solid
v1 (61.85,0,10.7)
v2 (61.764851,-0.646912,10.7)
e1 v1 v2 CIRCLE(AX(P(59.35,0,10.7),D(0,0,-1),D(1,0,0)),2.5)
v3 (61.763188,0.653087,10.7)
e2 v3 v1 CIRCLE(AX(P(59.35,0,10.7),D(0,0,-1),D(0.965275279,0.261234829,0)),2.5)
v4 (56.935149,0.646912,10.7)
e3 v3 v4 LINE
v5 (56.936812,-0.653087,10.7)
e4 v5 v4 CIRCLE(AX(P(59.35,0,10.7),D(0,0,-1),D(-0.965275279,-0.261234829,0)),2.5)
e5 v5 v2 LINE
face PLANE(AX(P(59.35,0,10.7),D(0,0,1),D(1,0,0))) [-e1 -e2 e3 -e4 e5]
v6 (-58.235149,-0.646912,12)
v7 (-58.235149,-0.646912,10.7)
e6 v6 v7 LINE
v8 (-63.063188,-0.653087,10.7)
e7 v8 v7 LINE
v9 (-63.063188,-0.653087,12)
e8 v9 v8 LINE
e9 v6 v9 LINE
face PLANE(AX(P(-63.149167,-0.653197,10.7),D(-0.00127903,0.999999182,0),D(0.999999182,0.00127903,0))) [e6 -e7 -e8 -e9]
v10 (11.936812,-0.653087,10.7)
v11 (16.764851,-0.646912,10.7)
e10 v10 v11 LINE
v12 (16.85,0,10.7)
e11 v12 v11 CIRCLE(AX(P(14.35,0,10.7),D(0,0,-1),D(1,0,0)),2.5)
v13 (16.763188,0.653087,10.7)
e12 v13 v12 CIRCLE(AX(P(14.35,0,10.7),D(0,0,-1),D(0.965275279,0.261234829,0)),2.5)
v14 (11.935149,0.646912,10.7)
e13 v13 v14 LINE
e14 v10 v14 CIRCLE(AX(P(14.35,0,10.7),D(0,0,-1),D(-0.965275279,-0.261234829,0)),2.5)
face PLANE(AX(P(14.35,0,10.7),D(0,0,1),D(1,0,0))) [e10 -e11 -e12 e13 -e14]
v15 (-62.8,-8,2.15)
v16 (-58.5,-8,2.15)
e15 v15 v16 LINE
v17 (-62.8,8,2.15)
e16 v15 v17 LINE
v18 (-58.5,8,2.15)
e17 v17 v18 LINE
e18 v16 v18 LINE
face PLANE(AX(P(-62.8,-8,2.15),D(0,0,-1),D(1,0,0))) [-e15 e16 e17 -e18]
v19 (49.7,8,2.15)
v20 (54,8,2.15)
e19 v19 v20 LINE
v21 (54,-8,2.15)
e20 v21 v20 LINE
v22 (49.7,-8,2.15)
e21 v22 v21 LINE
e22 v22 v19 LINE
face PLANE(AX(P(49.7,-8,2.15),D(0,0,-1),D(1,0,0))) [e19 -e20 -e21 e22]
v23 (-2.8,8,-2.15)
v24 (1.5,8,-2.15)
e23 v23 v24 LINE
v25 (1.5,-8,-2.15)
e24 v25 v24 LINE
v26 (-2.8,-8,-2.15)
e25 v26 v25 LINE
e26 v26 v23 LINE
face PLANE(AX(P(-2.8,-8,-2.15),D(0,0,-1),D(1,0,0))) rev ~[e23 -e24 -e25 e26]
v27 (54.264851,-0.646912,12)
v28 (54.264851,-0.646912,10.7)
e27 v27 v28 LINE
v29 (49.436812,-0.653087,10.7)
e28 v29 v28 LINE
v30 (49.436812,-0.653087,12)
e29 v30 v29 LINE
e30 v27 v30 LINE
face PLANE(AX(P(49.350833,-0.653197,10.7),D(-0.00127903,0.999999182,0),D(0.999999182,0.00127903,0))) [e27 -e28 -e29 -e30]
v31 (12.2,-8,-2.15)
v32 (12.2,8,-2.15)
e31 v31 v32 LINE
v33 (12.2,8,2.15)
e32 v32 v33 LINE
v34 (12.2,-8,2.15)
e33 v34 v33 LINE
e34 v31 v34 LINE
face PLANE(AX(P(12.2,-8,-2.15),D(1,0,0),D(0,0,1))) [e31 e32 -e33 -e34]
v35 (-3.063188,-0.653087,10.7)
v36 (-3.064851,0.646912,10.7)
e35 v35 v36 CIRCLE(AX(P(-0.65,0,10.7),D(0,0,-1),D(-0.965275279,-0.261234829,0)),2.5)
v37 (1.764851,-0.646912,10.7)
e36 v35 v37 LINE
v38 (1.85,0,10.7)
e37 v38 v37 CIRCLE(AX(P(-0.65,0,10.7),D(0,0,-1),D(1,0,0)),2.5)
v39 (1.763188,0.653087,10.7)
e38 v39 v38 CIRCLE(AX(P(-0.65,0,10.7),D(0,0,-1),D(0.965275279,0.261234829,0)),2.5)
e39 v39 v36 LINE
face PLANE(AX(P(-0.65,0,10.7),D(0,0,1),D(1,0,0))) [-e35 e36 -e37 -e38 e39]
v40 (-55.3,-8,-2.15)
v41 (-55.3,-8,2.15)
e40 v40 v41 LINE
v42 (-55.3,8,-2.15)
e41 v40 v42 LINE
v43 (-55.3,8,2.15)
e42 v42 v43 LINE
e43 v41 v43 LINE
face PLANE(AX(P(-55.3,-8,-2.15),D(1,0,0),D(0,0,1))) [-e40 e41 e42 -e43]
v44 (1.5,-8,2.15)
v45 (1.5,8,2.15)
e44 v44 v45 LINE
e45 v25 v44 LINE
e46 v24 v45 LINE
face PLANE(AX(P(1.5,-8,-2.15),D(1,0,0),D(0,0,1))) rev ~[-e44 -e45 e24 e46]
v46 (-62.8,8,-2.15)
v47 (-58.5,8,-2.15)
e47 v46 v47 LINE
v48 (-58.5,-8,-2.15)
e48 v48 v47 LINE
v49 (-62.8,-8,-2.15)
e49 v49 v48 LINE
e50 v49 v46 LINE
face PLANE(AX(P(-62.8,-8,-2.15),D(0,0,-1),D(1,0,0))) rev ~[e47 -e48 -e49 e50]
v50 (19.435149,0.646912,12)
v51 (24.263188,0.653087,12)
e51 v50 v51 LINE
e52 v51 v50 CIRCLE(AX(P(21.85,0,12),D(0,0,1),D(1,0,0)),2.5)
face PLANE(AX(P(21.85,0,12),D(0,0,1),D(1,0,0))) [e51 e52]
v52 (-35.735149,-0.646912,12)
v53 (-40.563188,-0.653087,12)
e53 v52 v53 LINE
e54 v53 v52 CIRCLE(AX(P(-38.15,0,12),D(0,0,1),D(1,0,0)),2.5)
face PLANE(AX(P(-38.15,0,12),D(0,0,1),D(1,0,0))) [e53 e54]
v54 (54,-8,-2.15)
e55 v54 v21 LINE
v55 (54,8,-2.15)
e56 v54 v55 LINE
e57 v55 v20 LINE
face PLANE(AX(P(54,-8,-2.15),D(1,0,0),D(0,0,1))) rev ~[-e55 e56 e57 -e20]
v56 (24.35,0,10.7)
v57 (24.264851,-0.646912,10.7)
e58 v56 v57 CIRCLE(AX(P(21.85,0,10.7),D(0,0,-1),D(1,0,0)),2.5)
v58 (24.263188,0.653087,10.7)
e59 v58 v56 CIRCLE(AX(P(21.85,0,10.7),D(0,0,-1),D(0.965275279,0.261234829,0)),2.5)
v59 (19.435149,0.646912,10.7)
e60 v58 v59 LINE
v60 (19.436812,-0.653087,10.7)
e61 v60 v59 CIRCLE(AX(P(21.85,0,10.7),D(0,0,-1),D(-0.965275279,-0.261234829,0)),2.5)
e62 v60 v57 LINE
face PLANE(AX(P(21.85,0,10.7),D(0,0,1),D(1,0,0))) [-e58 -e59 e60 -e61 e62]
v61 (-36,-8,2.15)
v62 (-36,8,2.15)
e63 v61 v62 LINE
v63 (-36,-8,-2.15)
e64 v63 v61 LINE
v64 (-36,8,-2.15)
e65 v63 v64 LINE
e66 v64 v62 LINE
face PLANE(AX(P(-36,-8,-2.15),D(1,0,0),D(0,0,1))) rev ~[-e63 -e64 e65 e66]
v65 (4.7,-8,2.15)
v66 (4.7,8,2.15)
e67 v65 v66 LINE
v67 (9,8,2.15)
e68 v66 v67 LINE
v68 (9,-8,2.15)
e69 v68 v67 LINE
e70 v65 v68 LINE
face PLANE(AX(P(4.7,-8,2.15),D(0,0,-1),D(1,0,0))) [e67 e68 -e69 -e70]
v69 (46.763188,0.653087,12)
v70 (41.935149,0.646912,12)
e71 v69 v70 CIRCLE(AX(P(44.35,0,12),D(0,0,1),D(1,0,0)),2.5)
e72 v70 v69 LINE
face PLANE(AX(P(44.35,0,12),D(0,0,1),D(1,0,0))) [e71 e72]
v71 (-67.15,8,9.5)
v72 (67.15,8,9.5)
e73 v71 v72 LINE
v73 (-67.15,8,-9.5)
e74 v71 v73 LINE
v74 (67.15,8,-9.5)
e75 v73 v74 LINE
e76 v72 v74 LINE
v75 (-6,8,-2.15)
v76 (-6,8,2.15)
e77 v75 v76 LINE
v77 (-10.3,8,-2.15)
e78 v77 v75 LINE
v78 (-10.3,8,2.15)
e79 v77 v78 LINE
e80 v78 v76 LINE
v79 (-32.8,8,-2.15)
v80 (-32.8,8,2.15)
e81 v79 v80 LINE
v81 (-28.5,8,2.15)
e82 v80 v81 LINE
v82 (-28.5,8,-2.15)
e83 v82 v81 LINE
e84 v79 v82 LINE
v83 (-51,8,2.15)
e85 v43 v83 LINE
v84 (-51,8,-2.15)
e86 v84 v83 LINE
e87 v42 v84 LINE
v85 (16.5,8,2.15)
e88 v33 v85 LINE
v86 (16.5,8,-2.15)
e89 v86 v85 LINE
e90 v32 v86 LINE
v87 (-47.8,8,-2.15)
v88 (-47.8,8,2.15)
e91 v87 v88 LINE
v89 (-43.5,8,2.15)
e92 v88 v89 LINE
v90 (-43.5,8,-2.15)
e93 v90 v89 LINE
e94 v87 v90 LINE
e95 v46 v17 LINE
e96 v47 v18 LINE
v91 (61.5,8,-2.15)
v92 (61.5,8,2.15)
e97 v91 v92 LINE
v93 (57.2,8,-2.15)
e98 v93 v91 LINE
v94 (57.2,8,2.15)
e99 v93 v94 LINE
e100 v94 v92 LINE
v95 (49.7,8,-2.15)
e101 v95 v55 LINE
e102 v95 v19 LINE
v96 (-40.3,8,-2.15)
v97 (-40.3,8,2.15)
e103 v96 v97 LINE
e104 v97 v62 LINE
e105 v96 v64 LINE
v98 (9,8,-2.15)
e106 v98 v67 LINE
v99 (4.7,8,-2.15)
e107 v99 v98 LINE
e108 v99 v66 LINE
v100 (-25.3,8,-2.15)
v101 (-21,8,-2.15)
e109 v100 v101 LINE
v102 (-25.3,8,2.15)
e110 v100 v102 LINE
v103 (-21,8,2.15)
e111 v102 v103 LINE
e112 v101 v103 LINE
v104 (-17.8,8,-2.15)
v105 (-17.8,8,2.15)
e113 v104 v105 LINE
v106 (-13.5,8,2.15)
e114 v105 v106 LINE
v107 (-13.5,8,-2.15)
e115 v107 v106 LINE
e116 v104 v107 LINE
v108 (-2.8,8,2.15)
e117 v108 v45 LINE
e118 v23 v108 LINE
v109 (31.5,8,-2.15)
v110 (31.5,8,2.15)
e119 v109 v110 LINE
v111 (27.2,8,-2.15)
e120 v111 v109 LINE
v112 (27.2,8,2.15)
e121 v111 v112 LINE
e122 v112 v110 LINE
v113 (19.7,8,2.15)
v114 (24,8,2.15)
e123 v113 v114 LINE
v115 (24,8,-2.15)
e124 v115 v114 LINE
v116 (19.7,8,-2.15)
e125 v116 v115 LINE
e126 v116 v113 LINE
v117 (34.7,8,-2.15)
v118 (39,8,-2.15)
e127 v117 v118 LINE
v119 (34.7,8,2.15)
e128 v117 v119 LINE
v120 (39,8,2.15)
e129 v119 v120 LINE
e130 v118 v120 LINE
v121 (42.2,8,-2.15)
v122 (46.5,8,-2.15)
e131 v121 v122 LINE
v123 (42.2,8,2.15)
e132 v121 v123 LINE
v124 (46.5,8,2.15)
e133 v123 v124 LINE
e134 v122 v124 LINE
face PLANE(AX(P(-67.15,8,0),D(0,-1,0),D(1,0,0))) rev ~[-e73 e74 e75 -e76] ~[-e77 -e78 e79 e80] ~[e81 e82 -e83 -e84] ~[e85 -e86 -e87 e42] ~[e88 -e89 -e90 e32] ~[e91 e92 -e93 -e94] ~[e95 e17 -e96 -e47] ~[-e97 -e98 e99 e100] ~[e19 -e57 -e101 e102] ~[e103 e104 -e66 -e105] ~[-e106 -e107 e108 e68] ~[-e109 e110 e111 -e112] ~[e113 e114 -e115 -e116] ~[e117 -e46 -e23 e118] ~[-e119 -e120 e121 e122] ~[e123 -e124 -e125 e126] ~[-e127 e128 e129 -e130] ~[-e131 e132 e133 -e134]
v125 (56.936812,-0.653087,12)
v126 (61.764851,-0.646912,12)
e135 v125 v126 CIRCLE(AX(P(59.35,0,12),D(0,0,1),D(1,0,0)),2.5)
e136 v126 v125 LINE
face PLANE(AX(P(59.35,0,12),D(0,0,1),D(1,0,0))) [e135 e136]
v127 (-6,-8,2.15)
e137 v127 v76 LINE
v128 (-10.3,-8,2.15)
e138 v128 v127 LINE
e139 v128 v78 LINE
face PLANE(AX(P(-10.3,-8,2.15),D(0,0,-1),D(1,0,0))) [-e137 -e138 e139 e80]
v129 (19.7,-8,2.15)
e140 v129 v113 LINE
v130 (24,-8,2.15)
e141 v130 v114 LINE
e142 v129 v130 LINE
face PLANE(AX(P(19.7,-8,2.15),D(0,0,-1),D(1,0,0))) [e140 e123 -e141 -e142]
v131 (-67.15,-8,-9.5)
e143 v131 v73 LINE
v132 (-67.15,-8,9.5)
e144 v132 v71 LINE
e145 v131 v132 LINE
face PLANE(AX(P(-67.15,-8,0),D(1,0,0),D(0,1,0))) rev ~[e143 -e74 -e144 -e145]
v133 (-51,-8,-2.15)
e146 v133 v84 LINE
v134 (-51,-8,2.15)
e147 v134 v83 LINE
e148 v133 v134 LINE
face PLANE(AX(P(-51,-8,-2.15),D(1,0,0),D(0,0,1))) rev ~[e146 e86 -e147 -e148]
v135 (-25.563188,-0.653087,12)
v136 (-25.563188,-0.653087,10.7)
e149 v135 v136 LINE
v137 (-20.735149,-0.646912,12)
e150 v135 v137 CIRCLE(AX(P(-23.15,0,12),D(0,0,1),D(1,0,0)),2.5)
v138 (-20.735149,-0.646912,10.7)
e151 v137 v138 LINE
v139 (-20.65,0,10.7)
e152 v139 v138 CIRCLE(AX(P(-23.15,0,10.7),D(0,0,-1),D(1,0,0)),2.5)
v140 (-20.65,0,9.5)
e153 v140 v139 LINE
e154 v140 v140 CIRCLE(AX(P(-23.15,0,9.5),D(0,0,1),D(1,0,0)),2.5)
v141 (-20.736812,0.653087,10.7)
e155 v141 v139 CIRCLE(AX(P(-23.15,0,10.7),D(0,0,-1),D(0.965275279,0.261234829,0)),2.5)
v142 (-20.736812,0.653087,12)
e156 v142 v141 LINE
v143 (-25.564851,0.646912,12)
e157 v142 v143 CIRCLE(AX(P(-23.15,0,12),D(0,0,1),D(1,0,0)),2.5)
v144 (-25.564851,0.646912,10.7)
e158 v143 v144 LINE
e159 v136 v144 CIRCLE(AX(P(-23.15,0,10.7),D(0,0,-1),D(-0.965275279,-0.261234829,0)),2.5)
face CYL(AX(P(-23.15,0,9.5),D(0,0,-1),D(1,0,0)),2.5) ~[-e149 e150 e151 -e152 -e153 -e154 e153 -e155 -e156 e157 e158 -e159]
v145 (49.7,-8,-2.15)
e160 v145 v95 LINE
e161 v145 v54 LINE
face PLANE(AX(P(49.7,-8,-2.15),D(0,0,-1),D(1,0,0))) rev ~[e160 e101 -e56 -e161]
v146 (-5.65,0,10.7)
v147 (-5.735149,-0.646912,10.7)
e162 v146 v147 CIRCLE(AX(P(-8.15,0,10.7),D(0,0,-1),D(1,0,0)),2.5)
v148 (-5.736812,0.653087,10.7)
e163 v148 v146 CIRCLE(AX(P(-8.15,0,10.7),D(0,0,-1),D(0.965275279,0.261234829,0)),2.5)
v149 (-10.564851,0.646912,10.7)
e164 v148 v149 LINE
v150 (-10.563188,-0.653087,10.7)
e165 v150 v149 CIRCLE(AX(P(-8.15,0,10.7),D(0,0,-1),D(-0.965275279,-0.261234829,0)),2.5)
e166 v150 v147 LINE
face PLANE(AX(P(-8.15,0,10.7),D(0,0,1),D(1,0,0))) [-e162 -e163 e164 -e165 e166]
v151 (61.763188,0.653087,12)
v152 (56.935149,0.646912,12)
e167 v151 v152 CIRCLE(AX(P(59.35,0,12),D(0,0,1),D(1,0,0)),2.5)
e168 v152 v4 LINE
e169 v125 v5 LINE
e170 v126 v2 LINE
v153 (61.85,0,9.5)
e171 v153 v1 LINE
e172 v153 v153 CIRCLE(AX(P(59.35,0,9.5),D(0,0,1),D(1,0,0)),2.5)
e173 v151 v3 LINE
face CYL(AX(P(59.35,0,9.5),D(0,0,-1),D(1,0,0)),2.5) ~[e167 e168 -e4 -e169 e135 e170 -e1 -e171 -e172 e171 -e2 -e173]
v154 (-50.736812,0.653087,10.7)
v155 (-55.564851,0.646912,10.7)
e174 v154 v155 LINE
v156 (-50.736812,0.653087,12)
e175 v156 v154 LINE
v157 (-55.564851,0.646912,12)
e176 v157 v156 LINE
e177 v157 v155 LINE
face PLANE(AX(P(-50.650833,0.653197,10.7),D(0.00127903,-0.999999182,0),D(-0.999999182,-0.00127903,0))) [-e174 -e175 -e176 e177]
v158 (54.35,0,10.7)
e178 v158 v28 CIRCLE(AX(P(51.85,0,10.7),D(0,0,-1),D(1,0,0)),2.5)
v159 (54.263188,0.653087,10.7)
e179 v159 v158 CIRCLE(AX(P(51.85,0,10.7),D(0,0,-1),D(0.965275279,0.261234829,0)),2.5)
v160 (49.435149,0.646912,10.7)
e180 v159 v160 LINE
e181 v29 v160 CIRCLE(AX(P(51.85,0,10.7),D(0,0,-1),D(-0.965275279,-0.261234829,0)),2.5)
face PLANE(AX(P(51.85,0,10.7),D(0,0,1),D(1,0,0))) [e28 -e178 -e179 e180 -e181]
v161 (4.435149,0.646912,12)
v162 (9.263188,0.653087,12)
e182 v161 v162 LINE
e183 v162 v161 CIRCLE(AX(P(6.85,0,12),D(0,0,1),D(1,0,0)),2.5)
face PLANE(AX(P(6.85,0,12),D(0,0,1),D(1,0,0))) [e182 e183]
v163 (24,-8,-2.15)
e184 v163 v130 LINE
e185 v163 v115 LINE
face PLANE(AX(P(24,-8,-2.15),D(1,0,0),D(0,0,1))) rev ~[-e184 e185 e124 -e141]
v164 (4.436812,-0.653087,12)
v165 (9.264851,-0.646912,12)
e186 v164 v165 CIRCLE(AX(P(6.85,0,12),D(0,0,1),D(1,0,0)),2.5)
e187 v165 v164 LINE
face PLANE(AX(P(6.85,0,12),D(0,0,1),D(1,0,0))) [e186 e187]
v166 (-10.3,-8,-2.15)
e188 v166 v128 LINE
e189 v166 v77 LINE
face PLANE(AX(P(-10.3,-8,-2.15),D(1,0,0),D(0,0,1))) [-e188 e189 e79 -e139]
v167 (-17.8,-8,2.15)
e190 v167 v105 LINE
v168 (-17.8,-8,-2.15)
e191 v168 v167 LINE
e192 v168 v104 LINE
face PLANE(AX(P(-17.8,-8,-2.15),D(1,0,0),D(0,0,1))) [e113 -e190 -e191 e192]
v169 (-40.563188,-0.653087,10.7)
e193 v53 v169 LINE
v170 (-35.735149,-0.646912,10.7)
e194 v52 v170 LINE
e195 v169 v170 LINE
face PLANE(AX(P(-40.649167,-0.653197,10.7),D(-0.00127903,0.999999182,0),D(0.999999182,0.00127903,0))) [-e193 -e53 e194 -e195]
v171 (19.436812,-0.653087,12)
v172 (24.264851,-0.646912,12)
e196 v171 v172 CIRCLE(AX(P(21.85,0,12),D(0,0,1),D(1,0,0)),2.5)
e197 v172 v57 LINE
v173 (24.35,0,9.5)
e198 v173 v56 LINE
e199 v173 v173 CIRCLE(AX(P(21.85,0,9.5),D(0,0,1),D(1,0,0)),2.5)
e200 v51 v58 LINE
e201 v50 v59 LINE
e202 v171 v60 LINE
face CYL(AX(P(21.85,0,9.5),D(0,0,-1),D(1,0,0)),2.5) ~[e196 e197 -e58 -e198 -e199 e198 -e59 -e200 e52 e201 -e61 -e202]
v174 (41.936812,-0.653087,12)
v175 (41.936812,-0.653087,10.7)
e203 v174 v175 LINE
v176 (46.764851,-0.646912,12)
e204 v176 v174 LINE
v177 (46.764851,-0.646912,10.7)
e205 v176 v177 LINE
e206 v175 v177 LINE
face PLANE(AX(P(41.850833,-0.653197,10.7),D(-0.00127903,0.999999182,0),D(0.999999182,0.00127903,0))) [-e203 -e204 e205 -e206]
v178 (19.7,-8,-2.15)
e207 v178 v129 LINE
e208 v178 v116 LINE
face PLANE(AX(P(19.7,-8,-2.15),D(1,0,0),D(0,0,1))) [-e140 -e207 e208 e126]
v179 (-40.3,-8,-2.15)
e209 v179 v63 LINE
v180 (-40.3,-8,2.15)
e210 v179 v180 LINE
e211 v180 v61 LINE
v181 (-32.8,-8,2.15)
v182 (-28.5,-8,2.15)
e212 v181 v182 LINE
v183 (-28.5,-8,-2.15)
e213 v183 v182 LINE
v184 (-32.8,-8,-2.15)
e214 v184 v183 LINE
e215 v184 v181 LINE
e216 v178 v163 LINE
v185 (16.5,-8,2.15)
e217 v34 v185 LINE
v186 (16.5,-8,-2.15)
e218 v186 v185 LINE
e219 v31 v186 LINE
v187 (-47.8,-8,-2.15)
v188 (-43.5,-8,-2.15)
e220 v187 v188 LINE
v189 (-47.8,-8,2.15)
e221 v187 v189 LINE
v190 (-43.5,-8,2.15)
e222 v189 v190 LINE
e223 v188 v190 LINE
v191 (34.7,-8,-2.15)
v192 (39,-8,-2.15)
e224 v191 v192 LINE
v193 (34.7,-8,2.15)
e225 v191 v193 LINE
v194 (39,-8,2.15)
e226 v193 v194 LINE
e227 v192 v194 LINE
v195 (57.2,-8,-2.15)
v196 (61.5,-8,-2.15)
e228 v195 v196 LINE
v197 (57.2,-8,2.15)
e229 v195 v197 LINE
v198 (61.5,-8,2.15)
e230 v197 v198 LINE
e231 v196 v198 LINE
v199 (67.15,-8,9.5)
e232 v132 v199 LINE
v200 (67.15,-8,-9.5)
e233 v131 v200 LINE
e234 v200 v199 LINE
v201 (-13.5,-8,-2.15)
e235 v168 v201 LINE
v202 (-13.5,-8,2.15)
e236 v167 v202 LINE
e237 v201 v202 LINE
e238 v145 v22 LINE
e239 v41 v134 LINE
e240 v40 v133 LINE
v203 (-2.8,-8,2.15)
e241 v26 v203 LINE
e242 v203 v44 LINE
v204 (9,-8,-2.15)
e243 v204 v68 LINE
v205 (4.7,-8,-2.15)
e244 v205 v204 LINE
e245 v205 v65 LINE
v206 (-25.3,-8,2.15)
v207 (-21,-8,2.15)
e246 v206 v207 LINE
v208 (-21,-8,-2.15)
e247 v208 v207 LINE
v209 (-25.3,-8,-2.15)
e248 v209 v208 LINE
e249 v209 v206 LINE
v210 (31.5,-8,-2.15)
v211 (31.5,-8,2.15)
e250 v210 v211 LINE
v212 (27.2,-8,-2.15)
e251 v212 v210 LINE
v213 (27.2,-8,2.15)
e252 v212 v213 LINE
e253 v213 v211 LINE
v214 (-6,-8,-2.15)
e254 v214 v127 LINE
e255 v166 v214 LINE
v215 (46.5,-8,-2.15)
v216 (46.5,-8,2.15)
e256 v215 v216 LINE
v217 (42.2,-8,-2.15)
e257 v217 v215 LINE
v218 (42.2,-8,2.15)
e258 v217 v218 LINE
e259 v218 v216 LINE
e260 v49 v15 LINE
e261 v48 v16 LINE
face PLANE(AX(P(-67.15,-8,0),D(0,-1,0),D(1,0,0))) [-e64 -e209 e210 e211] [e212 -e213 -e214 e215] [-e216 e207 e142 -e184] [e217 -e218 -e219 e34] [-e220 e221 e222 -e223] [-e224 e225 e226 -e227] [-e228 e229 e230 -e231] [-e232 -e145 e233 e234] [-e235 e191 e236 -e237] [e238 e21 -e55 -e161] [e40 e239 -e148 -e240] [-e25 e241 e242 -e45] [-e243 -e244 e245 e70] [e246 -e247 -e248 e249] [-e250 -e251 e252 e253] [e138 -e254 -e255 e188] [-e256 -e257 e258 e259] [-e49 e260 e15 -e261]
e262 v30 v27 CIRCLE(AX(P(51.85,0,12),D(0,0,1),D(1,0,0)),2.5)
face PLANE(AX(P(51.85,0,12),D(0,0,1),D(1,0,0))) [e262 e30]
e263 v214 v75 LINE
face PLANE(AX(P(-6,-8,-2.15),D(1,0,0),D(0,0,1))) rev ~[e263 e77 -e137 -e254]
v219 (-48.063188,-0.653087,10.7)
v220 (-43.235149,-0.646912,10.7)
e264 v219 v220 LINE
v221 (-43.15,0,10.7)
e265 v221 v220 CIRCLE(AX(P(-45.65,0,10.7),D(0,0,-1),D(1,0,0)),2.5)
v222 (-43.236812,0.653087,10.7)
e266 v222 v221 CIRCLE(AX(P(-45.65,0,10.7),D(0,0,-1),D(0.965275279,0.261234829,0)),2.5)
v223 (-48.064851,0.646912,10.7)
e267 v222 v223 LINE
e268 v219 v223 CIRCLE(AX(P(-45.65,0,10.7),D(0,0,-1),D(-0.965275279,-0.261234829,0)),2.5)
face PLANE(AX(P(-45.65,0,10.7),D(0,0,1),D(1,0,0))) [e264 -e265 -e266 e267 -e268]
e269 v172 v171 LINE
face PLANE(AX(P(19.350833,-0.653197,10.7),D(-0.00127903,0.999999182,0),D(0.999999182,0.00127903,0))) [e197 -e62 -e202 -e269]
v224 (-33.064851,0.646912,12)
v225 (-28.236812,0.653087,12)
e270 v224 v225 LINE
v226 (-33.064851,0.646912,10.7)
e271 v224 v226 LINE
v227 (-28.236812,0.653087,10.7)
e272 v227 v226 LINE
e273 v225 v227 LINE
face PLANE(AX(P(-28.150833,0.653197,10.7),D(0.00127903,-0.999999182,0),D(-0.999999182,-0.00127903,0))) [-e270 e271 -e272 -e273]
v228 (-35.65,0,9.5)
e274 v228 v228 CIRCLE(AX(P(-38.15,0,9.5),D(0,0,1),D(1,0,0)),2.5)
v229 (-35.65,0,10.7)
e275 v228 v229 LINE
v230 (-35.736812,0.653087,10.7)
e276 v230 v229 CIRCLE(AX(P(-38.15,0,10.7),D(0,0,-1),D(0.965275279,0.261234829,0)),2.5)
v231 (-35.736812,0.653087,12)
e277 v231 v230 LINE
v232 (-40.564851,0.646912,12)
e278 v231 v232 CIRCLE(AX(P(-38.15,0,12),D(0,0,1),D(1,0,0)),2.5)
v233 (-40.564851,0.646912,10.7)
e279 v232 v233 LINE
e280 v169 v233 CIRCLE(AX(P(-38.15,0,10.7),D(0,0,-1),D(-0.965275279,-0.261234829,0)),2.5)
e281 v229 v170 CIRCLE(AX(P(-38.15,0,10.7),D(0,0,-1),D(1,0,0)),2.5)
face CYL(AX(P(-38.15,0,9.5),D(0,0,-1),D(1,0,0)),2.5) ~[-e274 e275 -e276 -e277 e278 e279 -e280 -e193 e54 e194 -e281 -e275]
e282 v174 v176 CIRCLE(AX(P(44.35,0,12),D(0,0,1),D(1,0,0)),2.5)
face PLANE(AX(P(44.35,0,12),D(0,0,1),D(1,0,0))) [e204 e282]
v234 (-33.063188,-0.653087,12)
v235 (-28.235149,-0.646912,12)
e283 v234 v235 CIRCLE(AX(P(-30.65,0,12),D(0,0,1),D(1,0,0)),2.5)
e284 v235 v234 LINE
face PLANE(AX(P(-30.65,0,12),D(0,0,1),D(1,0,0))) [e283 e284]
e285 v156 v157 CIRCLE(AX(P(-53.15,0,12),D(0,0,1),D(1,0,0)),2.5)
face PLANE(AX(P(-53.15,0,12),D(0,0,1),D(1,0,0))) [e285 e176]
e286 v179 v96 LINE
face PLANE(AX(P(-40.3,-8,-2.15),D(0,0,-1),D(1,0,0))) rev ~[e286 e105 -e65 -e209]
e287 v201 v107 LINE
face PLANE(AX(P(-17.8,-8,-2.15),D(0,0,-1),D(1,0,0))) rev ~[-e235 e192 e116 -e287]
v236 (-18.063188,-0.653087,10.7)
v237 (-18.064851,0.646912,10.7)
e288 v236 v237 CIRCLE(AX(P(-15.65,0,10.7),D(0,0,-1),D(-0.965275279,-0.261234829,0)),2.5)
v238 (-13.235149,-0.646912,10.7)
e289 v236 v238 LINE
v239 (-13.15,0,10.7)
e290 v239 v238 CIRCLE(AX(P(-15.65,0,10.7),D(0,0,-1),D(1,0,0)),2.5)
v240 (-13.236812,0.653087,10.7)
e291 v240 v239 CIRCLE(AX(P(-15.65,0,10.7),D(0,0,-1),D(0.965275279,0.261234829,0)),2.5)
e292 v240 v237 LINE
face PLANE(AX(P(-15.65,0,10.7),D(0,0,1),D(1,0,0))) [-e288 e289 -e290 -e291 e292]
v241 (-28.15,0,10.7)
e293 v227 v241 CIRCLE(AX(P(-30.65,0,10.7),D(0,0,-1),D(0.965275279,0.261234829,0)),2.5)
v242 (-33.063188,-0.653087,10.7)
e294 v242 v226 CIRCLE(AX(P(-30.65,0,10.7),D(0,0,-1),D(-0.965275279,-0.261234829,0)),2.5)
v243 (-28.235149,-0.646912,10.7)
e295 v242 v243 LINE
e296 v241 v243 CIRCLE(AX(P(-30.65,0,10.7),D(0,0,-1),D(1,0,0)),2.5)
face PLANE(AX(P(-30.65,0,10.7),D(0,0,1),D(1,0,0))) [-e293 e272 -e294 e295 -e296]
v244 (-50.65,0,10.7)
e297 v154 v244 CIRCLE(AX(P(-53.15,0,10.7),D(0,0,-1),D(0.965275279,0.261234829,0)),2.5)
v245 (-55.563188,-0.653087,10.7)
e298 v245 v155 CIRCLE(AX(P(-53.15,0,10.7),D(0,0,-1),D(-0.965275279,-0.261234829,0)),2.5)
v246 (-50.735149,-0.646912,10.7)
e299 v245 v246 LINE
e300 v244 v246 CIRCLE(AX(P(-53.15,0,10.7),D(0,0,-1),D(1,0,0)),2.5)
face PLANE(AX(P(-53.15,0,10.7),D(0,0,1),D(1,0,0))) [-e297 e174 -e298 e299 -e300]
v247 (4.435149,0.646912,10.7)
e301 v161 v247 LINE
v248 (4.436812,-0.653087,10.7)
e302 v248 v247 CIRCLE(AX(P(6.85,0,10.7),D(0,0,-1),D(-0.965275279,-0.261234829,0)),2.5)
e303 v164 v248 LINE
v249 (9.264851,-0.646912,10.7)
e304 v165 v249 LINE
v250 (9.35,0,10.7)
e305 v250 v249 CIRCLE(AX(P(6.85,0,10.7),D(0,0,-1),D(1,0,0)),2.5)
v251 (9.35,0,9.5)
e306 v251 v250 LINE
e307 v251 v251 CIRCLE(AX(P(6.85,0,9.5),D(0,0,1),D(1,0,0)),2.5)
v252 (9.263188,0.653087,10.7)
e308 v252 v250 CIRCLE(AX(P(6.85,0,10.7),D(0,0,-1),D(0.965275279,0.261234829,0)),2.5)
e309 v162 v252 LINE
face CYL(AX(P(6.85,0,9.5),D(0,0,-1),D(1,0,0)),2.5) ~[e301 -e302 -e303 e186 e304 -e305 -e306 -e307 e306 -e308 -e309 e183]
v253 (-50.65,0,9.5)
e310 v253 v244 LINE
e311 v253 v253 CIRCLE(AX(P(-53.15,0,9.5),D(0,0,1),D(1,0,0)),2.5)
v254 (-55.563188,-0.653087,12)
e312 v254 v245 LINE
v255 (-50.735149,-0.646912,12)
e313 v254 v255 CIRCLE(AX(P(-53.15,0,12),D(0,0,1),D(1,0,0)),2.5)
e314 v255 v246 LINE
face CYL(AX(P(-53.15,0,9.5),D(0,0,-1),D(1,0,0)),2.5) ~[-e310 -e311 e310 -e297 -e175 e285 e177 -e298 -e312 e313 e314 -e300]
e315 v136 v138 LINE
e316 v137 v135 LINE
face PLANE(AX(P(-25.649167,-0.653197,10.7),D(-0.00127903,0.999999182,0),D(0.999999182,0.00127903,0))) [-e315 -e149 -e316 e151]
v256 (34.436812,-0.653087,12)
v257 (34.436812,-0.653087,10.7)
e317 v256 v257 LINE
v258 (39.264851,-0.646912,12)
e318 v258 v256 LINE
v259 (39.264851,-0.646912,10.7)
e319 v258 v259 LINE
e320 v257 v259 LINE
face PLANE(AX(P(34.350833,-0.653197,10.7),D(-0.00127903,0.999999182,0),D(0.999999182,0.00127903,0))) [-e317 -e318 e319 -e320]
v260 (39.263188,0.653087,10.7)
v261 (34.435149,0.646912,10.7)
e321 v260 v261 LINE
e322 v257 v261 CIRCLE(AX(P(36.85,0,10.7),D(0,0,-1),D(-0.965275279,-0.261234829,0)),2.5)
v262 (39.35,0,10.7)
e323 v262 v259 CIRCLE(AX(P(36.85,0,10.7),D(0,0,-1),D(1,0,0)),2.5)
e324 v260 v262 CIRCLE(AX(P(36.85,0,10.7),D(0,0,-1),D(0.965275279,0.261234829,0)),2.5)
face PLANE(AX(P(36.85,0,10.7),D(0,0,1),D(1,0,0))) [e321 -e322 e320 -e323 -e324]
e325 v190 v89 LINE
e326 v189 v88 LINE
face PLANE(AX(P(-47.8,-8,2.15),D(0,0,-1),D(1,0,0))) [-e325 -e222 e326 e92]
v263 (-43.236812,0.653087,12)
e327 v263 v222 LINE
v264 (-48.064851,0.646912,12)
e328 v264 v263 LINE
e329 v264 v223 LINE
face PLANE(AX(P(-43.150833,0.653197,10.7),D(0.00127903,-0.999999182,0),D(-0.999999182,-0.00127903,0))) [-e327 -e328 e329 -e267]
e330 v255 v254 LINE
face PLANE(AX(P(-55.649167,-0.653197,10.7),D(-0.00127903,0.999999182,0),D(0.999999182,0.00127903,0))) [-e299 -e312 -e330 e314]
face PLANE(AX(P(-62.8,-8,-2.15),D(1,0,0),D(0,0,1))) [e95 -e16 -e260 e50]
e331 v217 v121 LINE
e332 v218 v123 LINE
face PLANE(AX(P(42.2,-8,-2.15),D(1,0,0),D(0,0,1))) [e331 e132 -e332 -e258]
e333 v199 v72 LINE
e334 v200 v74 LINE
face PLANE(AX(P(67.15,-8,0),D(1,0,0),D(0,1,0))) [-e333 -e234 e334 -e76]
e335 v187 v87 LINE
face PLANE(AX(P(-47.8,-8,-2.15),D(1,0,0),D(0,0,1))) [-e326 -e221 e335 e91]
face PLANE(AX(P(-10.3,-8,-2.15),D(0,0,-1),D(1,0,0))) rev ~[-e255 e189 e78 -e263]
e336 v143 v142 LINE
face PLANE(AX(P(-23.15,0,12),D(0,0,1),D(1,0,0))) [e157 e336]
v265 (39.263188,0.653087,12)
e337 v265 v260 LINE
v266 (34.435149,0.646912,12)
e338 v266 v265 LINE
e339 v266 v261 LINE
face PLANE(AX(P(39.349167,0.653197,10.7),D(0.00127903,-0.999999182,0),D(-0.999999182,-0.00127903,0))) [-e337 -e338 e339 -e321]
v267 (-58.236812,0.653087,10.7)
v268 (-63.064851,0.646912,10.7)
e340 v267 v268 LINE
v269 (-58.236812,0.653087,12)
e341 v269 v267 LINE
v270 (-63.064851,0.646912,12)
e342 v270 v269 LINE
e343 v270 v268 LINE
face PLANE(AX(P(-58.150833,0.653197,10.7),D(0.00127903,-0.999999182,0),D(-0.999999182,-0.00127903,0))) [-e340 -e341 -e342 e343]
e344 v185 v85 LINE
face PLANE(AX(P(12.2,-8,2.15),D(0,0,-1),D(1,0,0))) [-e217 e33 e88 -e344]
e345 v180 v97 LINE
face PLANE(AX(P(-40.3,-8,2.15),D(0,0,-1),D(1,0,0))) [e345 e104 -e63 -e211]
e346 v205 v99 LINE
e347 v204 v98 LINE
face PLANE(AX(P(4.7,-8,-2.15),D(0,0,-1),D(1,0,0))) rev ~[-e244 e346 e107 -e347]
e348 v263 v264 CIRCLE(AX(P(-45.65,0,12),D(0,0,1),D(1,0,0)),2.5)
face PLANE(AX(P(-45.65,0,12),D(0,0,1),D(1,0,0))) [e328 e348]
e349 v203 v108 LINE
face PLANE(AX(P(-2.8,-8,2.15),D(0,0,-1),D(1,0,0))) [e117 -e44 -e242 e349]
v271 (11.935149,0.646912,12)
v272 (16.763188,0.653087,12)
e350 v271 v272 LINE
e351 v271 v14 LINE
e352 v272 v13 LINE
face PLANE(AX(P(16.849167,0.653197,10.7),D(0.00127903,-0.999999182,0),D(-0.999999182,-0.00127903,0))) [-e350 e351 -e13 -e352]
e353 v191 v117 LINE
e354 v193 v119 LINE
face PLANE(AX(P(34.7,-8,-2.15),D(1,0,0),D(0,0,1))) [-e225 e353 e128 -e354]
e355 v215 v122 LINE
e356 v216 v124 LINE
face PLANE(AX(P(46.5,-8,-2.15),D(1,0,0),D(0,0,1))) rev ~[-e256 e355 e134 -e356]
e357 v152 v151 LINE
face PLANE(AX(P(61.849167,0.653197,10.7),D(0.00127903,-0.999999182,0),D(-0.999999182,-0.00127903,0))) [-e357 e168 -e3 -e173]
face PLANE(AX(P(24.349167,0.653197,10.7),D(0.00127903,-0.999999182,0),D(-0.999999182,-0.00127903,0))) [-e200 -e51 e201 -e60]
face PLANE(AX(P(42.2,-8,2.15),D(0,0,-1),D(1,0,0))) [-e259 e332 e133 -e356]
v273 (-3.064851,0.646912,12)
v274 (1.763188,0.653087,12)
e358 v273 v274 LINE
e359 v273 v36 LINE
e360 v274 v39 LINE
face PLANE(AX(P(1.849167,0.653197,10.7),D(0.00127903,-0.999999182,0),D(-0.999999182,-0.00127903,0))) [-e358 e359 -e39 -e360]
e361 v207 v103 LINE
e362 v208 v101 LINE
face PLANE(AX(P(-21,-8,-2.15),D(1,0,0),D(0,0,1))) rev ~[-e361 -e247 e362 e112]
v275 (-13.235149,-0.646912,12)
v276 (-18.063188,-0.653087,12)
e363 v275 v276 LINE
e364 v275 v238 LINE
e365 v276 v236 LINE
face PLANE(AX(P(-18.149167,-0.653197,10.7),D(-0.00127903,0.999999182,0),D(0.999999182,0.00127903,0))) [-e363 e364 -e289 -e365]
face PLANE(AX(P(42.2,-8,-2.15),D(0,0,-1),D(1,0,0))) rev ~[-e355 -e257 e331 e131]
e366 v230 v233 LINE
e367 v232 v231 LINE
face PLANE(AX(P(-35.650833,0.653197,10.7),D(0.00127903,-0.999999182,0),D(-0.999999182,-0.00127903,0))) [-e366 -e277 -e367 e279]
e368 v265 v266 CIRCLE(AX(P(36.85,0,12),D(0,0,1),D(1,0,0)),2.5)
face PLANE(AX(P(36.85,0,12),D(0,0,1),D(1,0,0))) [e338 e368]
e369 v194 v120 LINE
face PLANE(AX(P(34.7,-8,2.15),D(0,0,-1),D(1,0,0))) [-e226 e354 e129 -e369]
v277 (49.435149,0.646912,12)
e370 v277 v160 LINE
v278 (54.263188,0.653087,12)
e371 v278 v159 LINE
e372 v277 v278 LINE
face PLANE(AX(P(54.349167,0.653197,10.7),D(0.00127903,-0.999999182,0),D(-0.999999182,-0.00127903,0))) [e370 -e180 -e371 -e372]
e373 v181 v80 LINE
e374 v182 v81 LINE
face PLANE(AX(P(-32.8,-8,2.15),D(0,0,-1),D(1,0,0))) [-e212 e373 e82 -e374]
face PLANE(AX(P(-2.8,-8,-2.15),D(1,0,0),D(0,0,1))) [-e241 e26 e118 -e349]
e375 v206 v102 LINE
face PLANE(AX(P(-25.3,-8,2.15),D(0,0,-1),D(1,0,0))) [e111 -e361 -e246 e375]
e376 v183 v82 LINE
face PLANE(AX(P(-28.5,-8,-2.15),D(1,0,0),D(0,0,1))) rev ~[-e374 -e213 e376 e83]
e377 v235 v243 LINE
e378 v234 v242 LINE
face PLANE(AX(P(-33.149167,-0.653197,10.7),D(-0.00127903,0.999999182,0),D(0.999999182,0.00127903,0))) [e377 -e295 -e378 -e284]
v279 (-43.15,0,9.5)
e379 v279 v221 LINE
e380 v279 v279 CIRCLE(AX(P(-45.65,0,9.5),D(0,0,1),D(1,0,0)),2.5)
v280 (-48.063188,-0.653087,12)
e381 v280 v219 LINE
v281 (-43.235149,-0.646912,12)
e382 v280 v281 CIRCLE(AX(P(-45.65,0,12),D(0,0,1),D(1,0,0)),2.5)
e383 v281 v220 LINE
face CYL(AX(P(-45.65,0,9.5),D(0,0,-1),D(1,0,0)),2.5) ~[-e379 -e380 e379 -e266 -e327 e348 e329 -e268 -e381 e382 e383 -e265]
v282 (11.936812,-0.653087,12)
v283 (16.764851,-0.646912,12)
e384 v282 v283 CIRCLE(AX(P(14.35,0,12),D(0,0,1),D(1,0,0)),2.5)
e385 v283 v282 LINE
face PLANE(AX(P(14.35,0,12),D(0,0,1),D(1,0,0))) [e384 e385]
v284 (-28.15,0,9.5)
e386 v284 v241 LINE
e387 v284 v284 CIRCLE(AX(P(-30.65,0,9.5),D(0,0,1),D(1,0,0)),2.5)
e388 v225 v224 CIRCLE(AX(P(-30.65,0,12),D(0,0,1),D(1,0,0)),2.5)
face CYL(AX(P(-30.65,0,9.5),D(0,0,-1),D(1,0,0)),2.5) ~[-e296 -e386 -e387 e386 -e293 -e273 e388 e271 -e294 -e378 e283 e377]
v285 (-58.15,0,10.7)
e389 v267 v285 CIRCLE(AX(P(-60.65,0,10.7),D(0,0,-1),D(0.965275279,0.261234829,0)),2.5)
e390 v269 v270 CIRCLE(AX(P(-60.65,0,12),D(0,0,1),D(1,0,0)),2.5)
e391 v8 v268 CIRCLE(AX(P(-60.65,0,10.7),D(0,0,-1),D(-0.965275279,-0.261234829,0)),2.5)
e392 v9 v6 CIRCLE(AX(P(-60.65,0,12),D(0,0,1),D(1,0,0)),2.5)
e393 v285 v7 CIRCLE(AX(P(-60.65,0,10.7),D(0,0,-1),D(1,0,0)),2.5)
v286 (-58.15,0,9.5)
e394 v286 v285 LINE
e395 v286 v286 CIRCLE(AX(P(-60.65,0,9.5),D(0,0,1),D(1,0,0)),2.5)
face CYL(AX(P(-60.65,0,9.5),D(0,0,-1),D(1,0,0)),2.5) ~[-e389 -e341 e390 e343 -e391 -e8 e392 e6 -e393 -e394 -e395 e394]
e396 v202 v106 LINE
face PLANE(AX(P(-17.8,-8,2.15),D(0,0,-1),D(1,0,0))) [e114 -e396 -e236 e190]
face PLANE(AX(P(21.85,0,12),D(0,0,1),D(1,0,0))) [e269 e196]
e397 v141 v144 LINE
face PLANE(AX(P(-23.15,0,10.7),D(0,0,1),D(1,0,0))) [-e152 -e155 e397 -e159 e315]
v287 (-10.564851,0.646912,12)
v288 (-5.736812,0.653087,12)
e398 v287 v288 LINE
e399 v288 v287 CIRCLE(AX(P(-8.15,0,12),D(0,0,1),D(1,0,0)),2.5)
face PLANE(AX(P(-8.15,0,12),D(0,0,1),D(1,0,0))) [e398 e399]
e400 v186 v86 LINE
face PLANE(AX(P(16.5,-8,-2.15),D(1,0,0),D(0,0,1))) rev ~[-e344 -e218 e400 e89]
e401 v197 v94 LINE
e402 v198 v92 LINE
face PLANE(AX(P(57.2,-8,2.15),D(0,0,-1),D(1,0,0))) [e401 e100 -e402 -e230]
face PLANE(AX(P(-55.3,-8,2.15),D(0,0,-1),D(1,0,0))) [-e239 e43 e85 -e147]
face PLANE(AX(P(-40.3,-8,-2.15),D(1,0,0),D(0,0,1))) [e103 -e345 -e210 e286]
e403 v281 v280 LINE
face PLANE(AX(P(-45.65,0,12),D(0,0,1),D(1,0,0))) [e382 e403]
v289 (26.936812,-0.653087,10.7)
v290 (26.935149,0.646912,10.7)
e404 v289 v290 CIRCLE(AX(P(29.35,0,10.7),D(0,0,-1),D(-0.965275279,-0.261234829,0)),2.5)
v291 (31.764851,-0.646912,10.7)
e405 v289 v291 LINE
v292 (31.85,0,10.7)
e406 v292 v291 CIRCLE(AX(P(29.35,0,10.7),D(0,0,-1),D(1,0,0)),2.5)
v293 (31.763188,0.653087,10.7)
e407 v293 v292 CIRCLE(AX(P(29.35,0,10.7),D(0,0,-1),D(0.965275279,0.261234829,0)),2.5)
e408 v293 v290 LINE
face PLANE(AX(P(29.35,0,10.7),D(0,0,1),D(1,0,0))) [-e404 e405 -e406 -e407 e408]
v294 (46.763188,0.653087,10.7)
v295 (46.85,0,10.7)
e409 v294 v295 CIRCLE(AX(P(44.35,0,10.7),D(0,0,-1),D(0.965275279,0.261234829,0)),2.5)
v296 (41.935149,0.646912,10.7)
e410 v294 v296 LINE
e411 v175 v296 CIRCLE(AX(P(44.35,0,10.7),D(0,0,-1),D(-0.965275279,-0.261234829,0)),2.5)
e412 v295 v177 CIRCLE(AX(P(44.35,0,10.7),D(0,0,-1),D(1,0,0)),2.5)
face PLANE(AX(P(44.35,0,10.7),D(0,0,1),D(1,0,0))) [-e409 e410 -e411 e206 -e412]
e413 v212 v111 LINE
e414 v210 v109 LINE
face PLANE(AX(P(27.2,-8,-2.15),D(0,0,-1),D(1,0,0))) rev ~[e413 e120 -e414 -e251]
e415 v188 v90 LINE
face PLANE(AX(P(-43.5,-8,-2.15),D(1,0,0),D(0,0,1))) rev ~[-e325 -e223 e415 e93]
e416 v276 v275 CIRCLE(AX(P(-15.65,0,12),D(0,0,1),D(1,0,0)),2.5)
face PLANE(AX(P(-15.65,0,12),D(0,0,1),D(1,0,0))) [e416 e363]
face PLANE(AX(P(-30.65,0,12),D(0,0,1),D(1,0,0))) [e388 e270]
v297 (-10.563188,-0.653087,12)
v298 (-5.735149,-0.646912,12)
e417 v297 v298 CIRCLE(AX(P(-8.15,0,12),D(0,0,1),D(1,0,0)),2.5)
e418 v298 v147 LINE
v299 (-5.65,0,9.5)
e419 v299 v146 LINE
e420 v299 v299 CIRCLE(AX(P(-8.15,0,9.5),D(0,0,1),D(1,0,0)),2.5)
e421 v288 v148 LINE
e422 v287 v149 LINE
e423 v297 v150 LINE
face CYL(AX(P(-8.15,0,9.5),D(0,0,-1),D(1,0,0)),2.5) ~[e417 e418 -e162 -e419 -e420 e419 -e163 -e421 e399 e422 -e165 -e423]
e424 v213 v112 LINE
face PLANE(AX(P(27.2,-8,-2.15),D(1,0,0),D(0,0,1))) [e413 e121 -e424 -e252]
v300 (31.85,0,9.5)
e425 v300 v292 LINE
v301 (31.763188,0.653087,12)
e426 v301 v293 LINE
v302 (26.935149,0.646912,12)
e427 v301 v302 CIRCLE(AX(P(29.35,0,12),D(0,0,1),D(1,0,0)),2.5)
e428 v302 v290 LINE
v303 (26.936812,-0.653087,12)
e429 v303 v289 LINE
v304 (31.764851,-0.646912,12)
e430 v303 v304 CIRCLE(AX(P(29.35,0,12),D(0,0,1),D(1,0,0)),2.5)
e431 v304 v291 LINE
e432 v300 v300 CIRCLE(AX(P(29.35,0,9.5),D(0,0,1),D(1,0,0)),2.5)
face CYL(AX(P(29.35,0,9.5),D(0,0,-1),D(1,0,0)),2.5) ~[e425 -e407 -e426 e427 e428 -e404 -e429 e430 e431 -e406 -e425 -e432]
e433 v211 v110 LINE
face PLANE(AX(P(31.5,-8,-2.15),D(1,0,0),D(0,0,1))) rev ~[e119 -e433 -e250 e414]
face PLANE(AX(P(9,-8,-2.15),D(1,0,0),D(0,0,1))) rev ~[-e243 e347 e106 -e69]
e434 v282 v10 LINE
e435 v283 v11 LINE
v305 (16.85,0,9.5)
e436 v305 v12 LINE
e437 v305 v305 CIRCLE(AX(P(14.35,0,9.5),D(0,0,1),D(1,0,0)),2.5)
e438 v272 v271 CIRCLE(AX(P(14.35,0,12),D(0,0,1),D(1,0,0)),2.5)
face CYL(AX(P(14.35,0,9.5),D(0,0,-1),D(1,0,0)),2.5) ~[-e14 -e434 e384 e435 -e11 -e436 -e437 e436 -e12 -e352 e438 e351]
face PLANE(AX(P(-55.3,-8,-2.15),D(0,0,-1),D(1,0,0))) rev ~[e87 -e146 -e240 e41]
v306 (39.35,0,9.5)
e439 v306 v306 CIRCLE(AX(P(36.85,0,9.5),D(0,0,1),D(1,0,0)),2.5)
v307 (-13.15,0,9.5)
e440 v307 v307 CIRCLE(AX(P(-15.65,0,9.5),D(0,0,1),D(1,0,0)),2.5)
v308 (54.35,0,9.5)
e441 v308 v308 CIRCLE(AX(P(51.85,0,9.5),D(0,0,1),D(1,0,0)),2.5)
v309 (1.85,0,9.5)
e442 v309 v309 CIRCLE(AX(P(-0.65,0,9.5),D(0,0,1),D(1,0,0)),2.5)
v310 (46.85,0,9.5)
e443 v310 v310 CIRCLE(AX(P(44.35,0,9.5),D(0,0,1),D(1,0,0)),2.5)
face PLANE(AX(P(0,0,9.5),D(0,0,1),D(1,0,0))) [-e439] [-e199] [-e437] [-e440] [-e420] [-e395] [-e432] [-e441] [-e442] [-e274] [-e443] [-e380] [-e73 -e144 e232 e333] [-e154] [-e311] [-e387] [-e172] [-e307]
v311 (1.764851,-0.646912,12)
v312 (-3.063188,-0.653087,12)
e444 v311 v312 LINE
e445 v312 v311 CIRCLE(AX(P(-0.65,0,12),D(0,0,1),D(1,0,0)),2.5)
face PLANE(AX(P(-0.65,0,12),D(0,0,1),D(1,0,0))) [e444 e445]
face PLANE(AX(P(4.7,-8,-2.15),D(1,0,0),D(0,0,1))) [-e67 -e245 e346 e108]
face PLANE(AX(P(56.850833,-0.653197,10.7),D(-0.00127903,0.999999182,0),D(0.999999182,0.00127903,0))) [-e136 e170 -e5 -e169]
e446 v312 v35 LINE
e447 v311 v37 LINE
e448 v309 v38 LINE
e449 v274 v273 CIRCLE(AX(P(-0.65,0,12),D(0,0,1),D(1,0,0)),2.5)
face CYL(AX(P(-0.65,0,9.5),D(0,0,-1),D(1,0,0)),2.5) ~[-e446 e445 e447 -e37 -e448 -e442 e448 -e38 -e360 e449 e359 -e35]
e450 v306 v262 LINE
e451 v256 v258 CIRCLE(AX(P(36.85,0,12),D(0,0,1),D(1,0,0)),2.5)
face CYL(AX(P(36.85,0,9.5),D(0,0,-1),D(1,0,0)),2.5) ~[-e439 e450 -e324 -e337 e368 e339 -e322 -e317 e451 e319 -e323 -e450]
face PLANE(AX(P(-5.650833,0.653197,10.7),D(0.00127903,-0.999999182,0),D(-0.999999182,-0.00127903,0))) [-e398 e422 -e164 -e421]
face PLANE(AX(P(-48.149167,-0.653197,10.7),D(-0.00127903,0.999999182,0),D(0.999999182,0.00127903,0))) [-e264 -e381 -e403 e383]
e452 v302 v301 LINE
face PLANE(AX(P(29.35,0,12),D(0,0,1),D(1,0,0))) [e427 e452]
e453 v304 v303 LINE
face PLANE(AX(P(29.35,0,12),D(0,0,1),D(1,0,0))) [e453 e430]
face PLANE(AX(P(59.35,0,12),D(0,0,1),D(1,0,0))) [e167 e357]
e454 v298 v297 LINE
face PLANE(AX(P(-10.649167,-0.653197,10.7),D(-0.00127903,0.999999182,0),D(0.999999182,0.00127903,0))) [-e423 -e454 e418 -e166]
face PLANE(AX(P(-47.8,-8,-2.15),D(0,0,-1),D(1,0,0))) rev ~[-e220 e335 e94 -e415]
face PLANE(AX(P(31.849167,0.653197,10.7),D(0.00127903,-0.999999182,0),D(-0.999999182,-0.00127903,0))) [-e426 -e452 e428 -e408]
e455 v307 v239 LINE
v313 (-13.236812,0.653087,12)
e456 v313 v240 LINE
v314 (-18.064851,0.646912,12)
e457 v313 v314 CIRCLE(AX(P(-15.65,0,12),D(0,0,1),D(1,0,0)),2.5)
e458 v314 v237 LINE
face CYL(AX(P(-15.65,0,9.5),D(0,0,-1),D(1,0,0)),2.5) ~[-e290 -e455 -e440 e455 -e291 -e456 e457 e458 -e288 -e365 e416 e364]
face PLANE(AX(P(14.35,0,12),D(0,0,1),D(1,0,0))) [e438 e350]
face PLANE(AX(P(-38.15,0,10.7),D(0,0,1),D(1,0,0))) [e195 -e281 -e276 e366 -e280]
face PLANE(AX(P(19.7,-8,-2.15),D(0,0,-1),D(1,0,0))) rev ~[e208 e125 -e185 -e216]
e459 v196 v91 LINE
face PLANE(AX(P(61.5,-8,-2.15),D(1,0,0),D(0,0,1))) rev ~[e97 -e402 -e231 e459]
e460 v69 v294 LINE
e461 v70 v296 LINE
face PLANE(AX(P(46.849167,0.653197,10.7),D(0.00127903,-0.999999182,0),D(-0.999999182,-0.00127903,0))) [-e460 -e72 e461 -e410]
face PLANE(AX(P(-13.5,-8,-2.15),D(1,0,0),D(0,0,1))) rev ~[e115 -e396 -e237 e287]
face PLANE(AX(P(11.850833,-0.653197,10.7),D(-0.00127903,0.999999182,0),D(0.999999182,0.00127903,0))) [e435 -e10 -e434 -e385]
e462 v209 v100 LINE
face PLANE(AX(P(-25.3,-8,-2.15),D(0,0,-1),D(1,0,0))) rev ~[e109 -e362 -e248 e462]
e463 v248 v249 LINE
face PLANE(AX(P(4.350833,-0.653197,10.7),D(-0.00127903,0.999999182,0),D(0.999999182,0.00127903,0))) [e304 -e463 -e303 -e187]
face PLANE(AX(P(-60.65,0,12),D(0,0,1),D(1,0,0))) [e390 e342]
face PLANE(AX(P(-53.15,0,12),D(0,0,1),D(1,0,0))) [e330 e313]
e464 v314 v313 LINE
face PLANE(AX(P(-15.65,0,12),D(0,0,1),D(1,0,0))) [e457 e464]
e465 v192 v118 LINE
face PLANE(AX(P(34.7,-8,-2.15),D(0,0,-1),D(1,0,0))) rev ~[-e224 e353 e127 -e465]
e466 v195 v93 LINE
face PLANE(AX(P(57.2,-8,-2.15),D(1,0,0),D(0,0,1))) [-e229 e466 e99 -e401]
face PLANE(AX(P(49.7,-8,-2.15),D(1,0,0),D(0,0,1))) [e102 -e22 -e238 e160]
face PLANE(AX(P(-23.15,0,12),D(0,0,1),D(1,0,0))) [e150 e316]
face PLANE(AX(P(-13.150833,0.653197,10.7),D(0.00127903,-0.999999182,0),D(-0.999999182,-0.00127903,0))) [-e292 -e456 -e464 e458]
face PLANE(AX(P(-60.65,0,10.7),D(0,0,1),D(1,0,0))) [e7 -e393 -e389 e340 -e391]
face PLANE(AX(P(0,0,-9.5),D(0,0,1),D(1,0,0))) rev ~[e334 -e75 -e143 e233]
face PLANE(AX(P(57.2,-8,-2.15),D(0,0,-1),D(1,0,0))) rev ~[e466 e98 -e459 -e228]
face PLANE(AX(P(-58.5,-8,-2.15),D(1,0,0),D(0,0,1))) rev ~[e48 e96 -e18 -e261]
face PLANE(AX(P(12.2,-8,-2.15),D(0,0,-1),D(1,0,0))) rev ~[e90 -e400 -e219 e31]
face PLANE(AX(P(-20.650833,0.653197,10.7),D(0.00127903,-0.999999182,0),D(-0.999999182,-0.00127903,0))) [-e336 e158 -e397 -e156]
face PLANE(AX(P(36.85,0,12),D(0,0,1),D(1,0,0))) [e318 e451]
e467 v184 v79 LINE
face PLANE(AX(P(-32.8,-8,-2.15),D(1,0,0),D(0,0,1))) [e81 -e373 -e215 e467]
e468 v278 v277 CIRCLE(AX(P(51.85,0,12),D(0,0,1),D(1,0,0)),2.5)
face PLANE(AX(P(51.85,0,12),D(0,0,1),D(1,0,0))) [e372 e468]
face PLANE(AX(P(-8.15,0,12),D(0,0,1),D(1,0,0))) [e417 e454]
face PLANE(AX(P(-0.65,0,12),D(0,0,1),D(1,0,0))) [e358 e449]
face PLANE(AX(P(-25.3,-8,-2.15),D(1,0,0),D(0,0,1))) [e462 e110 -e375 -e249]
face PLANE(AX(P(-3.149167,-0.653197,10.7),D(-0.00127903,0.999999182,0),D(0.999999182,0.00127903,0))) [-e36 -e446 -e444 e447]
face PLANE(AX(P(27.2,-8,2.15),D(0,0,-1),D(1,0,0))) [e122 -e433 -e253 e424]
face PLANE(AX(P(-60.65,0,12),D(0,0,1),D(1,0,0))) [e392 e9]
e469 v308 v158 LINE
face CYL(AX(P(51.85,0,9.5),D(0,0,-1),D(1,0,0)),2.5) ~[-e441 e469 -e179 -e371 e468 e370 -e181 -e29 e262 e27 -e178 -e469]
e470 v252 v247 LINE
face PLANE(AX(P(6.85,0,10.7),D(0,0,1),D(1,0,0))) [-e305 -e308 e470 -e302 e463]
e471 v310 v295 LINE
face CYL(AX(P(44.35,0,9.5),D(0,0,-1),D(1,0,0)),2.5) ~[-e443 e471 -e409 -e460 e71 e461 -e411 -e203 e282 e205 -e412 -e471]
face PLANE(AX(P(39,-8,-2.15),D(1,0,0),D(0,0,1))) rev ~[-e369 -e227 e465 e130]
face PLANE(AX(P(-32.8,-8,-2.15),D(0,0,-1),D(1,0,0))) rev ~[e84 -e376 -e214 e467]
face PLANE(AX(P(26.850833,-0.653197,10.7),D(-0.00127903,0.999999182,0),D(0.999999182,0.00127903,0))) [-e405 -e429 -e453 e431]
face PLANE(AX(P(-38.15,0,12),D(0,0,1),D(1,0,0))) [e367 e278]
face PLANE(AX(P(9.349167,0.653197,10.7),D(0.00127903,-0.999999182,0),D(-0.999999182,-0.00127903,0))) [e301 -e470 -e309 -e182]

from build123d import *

# Parameters (mm, degrees)
SKETCH1_W        = 134.3
SKETCH1_H        = 16
STRIP_BASE_DEPTH = 9.5
SKETCH2_R        = 2.5
SCREW_BODY_DEPTH = 2.5
SCREW_START      = -1.3
SCREW_SLOT_DEPTH = 3.8
SKETCH4_W        = 4.3
SKETCH4_H        = 4.3
WIRE_HOLE_DEPTH  = 71.065130414
LPATTERN1_COUNT  = 17
LPATTERN1_PITCH  = 7.5


with BuildPart() as part:
    # Sketch1 → strip base (new, symmetric)
    with BuildSketch(Plane.XY):
        Rectangle(SKETCH1_W, SKETCH1_H)
    extrude(amount=STRIP_BASE_DEPTH, both=True)

    # Sketch2 → screw body (add)
    with BuildSketch(Plane.XY.offset(9.5)):
        with Locations((-60.65, 0)):
            Circle(SKETCH2_R)
    screw_body = extrude(amount=SCREW_BODY_DEPTH)

    # Sketch3 → screw slot (cut)
    with BuildSketch(Plane.XY.offset(12).offset(SCREW_START)):
        Polygon((-58.150833414, 0.653197042), (-63.150829324, 0.646801894), (-63.149166586, -0.653197042), (-58.149170676, -0.646801894), align=None)
    screw_slot = extrude(amount=SCREW_SLOT_DEPTH, mode=Mode.SUBTRACT)

    # Sketch4 → wire hole (cut, through all)
    with BuildSketch(Plane.XZ.offset(8)):
        with Locations((-60.65, 0)):
            Rectangle(SKETCH4_W, SKETCH4_H)
    wire_hole = extrude(amount=-WIRE_HOLE_DEPTH, mode=Mode.SUBTRACT)

    # LPattern1: screw body, screw slot, wire hole ×17
    with Locations(*[(i * LPATTERN1_PITCH, 0, 0) for i in range(1, LPATTERN1_COUNT)]):
        add(screw_body)
        add(screw_slot, mode=Mode.SUBTRACT)
        add(wire_hole, mode=Mode.SUBTRACT)


solid = part.part
